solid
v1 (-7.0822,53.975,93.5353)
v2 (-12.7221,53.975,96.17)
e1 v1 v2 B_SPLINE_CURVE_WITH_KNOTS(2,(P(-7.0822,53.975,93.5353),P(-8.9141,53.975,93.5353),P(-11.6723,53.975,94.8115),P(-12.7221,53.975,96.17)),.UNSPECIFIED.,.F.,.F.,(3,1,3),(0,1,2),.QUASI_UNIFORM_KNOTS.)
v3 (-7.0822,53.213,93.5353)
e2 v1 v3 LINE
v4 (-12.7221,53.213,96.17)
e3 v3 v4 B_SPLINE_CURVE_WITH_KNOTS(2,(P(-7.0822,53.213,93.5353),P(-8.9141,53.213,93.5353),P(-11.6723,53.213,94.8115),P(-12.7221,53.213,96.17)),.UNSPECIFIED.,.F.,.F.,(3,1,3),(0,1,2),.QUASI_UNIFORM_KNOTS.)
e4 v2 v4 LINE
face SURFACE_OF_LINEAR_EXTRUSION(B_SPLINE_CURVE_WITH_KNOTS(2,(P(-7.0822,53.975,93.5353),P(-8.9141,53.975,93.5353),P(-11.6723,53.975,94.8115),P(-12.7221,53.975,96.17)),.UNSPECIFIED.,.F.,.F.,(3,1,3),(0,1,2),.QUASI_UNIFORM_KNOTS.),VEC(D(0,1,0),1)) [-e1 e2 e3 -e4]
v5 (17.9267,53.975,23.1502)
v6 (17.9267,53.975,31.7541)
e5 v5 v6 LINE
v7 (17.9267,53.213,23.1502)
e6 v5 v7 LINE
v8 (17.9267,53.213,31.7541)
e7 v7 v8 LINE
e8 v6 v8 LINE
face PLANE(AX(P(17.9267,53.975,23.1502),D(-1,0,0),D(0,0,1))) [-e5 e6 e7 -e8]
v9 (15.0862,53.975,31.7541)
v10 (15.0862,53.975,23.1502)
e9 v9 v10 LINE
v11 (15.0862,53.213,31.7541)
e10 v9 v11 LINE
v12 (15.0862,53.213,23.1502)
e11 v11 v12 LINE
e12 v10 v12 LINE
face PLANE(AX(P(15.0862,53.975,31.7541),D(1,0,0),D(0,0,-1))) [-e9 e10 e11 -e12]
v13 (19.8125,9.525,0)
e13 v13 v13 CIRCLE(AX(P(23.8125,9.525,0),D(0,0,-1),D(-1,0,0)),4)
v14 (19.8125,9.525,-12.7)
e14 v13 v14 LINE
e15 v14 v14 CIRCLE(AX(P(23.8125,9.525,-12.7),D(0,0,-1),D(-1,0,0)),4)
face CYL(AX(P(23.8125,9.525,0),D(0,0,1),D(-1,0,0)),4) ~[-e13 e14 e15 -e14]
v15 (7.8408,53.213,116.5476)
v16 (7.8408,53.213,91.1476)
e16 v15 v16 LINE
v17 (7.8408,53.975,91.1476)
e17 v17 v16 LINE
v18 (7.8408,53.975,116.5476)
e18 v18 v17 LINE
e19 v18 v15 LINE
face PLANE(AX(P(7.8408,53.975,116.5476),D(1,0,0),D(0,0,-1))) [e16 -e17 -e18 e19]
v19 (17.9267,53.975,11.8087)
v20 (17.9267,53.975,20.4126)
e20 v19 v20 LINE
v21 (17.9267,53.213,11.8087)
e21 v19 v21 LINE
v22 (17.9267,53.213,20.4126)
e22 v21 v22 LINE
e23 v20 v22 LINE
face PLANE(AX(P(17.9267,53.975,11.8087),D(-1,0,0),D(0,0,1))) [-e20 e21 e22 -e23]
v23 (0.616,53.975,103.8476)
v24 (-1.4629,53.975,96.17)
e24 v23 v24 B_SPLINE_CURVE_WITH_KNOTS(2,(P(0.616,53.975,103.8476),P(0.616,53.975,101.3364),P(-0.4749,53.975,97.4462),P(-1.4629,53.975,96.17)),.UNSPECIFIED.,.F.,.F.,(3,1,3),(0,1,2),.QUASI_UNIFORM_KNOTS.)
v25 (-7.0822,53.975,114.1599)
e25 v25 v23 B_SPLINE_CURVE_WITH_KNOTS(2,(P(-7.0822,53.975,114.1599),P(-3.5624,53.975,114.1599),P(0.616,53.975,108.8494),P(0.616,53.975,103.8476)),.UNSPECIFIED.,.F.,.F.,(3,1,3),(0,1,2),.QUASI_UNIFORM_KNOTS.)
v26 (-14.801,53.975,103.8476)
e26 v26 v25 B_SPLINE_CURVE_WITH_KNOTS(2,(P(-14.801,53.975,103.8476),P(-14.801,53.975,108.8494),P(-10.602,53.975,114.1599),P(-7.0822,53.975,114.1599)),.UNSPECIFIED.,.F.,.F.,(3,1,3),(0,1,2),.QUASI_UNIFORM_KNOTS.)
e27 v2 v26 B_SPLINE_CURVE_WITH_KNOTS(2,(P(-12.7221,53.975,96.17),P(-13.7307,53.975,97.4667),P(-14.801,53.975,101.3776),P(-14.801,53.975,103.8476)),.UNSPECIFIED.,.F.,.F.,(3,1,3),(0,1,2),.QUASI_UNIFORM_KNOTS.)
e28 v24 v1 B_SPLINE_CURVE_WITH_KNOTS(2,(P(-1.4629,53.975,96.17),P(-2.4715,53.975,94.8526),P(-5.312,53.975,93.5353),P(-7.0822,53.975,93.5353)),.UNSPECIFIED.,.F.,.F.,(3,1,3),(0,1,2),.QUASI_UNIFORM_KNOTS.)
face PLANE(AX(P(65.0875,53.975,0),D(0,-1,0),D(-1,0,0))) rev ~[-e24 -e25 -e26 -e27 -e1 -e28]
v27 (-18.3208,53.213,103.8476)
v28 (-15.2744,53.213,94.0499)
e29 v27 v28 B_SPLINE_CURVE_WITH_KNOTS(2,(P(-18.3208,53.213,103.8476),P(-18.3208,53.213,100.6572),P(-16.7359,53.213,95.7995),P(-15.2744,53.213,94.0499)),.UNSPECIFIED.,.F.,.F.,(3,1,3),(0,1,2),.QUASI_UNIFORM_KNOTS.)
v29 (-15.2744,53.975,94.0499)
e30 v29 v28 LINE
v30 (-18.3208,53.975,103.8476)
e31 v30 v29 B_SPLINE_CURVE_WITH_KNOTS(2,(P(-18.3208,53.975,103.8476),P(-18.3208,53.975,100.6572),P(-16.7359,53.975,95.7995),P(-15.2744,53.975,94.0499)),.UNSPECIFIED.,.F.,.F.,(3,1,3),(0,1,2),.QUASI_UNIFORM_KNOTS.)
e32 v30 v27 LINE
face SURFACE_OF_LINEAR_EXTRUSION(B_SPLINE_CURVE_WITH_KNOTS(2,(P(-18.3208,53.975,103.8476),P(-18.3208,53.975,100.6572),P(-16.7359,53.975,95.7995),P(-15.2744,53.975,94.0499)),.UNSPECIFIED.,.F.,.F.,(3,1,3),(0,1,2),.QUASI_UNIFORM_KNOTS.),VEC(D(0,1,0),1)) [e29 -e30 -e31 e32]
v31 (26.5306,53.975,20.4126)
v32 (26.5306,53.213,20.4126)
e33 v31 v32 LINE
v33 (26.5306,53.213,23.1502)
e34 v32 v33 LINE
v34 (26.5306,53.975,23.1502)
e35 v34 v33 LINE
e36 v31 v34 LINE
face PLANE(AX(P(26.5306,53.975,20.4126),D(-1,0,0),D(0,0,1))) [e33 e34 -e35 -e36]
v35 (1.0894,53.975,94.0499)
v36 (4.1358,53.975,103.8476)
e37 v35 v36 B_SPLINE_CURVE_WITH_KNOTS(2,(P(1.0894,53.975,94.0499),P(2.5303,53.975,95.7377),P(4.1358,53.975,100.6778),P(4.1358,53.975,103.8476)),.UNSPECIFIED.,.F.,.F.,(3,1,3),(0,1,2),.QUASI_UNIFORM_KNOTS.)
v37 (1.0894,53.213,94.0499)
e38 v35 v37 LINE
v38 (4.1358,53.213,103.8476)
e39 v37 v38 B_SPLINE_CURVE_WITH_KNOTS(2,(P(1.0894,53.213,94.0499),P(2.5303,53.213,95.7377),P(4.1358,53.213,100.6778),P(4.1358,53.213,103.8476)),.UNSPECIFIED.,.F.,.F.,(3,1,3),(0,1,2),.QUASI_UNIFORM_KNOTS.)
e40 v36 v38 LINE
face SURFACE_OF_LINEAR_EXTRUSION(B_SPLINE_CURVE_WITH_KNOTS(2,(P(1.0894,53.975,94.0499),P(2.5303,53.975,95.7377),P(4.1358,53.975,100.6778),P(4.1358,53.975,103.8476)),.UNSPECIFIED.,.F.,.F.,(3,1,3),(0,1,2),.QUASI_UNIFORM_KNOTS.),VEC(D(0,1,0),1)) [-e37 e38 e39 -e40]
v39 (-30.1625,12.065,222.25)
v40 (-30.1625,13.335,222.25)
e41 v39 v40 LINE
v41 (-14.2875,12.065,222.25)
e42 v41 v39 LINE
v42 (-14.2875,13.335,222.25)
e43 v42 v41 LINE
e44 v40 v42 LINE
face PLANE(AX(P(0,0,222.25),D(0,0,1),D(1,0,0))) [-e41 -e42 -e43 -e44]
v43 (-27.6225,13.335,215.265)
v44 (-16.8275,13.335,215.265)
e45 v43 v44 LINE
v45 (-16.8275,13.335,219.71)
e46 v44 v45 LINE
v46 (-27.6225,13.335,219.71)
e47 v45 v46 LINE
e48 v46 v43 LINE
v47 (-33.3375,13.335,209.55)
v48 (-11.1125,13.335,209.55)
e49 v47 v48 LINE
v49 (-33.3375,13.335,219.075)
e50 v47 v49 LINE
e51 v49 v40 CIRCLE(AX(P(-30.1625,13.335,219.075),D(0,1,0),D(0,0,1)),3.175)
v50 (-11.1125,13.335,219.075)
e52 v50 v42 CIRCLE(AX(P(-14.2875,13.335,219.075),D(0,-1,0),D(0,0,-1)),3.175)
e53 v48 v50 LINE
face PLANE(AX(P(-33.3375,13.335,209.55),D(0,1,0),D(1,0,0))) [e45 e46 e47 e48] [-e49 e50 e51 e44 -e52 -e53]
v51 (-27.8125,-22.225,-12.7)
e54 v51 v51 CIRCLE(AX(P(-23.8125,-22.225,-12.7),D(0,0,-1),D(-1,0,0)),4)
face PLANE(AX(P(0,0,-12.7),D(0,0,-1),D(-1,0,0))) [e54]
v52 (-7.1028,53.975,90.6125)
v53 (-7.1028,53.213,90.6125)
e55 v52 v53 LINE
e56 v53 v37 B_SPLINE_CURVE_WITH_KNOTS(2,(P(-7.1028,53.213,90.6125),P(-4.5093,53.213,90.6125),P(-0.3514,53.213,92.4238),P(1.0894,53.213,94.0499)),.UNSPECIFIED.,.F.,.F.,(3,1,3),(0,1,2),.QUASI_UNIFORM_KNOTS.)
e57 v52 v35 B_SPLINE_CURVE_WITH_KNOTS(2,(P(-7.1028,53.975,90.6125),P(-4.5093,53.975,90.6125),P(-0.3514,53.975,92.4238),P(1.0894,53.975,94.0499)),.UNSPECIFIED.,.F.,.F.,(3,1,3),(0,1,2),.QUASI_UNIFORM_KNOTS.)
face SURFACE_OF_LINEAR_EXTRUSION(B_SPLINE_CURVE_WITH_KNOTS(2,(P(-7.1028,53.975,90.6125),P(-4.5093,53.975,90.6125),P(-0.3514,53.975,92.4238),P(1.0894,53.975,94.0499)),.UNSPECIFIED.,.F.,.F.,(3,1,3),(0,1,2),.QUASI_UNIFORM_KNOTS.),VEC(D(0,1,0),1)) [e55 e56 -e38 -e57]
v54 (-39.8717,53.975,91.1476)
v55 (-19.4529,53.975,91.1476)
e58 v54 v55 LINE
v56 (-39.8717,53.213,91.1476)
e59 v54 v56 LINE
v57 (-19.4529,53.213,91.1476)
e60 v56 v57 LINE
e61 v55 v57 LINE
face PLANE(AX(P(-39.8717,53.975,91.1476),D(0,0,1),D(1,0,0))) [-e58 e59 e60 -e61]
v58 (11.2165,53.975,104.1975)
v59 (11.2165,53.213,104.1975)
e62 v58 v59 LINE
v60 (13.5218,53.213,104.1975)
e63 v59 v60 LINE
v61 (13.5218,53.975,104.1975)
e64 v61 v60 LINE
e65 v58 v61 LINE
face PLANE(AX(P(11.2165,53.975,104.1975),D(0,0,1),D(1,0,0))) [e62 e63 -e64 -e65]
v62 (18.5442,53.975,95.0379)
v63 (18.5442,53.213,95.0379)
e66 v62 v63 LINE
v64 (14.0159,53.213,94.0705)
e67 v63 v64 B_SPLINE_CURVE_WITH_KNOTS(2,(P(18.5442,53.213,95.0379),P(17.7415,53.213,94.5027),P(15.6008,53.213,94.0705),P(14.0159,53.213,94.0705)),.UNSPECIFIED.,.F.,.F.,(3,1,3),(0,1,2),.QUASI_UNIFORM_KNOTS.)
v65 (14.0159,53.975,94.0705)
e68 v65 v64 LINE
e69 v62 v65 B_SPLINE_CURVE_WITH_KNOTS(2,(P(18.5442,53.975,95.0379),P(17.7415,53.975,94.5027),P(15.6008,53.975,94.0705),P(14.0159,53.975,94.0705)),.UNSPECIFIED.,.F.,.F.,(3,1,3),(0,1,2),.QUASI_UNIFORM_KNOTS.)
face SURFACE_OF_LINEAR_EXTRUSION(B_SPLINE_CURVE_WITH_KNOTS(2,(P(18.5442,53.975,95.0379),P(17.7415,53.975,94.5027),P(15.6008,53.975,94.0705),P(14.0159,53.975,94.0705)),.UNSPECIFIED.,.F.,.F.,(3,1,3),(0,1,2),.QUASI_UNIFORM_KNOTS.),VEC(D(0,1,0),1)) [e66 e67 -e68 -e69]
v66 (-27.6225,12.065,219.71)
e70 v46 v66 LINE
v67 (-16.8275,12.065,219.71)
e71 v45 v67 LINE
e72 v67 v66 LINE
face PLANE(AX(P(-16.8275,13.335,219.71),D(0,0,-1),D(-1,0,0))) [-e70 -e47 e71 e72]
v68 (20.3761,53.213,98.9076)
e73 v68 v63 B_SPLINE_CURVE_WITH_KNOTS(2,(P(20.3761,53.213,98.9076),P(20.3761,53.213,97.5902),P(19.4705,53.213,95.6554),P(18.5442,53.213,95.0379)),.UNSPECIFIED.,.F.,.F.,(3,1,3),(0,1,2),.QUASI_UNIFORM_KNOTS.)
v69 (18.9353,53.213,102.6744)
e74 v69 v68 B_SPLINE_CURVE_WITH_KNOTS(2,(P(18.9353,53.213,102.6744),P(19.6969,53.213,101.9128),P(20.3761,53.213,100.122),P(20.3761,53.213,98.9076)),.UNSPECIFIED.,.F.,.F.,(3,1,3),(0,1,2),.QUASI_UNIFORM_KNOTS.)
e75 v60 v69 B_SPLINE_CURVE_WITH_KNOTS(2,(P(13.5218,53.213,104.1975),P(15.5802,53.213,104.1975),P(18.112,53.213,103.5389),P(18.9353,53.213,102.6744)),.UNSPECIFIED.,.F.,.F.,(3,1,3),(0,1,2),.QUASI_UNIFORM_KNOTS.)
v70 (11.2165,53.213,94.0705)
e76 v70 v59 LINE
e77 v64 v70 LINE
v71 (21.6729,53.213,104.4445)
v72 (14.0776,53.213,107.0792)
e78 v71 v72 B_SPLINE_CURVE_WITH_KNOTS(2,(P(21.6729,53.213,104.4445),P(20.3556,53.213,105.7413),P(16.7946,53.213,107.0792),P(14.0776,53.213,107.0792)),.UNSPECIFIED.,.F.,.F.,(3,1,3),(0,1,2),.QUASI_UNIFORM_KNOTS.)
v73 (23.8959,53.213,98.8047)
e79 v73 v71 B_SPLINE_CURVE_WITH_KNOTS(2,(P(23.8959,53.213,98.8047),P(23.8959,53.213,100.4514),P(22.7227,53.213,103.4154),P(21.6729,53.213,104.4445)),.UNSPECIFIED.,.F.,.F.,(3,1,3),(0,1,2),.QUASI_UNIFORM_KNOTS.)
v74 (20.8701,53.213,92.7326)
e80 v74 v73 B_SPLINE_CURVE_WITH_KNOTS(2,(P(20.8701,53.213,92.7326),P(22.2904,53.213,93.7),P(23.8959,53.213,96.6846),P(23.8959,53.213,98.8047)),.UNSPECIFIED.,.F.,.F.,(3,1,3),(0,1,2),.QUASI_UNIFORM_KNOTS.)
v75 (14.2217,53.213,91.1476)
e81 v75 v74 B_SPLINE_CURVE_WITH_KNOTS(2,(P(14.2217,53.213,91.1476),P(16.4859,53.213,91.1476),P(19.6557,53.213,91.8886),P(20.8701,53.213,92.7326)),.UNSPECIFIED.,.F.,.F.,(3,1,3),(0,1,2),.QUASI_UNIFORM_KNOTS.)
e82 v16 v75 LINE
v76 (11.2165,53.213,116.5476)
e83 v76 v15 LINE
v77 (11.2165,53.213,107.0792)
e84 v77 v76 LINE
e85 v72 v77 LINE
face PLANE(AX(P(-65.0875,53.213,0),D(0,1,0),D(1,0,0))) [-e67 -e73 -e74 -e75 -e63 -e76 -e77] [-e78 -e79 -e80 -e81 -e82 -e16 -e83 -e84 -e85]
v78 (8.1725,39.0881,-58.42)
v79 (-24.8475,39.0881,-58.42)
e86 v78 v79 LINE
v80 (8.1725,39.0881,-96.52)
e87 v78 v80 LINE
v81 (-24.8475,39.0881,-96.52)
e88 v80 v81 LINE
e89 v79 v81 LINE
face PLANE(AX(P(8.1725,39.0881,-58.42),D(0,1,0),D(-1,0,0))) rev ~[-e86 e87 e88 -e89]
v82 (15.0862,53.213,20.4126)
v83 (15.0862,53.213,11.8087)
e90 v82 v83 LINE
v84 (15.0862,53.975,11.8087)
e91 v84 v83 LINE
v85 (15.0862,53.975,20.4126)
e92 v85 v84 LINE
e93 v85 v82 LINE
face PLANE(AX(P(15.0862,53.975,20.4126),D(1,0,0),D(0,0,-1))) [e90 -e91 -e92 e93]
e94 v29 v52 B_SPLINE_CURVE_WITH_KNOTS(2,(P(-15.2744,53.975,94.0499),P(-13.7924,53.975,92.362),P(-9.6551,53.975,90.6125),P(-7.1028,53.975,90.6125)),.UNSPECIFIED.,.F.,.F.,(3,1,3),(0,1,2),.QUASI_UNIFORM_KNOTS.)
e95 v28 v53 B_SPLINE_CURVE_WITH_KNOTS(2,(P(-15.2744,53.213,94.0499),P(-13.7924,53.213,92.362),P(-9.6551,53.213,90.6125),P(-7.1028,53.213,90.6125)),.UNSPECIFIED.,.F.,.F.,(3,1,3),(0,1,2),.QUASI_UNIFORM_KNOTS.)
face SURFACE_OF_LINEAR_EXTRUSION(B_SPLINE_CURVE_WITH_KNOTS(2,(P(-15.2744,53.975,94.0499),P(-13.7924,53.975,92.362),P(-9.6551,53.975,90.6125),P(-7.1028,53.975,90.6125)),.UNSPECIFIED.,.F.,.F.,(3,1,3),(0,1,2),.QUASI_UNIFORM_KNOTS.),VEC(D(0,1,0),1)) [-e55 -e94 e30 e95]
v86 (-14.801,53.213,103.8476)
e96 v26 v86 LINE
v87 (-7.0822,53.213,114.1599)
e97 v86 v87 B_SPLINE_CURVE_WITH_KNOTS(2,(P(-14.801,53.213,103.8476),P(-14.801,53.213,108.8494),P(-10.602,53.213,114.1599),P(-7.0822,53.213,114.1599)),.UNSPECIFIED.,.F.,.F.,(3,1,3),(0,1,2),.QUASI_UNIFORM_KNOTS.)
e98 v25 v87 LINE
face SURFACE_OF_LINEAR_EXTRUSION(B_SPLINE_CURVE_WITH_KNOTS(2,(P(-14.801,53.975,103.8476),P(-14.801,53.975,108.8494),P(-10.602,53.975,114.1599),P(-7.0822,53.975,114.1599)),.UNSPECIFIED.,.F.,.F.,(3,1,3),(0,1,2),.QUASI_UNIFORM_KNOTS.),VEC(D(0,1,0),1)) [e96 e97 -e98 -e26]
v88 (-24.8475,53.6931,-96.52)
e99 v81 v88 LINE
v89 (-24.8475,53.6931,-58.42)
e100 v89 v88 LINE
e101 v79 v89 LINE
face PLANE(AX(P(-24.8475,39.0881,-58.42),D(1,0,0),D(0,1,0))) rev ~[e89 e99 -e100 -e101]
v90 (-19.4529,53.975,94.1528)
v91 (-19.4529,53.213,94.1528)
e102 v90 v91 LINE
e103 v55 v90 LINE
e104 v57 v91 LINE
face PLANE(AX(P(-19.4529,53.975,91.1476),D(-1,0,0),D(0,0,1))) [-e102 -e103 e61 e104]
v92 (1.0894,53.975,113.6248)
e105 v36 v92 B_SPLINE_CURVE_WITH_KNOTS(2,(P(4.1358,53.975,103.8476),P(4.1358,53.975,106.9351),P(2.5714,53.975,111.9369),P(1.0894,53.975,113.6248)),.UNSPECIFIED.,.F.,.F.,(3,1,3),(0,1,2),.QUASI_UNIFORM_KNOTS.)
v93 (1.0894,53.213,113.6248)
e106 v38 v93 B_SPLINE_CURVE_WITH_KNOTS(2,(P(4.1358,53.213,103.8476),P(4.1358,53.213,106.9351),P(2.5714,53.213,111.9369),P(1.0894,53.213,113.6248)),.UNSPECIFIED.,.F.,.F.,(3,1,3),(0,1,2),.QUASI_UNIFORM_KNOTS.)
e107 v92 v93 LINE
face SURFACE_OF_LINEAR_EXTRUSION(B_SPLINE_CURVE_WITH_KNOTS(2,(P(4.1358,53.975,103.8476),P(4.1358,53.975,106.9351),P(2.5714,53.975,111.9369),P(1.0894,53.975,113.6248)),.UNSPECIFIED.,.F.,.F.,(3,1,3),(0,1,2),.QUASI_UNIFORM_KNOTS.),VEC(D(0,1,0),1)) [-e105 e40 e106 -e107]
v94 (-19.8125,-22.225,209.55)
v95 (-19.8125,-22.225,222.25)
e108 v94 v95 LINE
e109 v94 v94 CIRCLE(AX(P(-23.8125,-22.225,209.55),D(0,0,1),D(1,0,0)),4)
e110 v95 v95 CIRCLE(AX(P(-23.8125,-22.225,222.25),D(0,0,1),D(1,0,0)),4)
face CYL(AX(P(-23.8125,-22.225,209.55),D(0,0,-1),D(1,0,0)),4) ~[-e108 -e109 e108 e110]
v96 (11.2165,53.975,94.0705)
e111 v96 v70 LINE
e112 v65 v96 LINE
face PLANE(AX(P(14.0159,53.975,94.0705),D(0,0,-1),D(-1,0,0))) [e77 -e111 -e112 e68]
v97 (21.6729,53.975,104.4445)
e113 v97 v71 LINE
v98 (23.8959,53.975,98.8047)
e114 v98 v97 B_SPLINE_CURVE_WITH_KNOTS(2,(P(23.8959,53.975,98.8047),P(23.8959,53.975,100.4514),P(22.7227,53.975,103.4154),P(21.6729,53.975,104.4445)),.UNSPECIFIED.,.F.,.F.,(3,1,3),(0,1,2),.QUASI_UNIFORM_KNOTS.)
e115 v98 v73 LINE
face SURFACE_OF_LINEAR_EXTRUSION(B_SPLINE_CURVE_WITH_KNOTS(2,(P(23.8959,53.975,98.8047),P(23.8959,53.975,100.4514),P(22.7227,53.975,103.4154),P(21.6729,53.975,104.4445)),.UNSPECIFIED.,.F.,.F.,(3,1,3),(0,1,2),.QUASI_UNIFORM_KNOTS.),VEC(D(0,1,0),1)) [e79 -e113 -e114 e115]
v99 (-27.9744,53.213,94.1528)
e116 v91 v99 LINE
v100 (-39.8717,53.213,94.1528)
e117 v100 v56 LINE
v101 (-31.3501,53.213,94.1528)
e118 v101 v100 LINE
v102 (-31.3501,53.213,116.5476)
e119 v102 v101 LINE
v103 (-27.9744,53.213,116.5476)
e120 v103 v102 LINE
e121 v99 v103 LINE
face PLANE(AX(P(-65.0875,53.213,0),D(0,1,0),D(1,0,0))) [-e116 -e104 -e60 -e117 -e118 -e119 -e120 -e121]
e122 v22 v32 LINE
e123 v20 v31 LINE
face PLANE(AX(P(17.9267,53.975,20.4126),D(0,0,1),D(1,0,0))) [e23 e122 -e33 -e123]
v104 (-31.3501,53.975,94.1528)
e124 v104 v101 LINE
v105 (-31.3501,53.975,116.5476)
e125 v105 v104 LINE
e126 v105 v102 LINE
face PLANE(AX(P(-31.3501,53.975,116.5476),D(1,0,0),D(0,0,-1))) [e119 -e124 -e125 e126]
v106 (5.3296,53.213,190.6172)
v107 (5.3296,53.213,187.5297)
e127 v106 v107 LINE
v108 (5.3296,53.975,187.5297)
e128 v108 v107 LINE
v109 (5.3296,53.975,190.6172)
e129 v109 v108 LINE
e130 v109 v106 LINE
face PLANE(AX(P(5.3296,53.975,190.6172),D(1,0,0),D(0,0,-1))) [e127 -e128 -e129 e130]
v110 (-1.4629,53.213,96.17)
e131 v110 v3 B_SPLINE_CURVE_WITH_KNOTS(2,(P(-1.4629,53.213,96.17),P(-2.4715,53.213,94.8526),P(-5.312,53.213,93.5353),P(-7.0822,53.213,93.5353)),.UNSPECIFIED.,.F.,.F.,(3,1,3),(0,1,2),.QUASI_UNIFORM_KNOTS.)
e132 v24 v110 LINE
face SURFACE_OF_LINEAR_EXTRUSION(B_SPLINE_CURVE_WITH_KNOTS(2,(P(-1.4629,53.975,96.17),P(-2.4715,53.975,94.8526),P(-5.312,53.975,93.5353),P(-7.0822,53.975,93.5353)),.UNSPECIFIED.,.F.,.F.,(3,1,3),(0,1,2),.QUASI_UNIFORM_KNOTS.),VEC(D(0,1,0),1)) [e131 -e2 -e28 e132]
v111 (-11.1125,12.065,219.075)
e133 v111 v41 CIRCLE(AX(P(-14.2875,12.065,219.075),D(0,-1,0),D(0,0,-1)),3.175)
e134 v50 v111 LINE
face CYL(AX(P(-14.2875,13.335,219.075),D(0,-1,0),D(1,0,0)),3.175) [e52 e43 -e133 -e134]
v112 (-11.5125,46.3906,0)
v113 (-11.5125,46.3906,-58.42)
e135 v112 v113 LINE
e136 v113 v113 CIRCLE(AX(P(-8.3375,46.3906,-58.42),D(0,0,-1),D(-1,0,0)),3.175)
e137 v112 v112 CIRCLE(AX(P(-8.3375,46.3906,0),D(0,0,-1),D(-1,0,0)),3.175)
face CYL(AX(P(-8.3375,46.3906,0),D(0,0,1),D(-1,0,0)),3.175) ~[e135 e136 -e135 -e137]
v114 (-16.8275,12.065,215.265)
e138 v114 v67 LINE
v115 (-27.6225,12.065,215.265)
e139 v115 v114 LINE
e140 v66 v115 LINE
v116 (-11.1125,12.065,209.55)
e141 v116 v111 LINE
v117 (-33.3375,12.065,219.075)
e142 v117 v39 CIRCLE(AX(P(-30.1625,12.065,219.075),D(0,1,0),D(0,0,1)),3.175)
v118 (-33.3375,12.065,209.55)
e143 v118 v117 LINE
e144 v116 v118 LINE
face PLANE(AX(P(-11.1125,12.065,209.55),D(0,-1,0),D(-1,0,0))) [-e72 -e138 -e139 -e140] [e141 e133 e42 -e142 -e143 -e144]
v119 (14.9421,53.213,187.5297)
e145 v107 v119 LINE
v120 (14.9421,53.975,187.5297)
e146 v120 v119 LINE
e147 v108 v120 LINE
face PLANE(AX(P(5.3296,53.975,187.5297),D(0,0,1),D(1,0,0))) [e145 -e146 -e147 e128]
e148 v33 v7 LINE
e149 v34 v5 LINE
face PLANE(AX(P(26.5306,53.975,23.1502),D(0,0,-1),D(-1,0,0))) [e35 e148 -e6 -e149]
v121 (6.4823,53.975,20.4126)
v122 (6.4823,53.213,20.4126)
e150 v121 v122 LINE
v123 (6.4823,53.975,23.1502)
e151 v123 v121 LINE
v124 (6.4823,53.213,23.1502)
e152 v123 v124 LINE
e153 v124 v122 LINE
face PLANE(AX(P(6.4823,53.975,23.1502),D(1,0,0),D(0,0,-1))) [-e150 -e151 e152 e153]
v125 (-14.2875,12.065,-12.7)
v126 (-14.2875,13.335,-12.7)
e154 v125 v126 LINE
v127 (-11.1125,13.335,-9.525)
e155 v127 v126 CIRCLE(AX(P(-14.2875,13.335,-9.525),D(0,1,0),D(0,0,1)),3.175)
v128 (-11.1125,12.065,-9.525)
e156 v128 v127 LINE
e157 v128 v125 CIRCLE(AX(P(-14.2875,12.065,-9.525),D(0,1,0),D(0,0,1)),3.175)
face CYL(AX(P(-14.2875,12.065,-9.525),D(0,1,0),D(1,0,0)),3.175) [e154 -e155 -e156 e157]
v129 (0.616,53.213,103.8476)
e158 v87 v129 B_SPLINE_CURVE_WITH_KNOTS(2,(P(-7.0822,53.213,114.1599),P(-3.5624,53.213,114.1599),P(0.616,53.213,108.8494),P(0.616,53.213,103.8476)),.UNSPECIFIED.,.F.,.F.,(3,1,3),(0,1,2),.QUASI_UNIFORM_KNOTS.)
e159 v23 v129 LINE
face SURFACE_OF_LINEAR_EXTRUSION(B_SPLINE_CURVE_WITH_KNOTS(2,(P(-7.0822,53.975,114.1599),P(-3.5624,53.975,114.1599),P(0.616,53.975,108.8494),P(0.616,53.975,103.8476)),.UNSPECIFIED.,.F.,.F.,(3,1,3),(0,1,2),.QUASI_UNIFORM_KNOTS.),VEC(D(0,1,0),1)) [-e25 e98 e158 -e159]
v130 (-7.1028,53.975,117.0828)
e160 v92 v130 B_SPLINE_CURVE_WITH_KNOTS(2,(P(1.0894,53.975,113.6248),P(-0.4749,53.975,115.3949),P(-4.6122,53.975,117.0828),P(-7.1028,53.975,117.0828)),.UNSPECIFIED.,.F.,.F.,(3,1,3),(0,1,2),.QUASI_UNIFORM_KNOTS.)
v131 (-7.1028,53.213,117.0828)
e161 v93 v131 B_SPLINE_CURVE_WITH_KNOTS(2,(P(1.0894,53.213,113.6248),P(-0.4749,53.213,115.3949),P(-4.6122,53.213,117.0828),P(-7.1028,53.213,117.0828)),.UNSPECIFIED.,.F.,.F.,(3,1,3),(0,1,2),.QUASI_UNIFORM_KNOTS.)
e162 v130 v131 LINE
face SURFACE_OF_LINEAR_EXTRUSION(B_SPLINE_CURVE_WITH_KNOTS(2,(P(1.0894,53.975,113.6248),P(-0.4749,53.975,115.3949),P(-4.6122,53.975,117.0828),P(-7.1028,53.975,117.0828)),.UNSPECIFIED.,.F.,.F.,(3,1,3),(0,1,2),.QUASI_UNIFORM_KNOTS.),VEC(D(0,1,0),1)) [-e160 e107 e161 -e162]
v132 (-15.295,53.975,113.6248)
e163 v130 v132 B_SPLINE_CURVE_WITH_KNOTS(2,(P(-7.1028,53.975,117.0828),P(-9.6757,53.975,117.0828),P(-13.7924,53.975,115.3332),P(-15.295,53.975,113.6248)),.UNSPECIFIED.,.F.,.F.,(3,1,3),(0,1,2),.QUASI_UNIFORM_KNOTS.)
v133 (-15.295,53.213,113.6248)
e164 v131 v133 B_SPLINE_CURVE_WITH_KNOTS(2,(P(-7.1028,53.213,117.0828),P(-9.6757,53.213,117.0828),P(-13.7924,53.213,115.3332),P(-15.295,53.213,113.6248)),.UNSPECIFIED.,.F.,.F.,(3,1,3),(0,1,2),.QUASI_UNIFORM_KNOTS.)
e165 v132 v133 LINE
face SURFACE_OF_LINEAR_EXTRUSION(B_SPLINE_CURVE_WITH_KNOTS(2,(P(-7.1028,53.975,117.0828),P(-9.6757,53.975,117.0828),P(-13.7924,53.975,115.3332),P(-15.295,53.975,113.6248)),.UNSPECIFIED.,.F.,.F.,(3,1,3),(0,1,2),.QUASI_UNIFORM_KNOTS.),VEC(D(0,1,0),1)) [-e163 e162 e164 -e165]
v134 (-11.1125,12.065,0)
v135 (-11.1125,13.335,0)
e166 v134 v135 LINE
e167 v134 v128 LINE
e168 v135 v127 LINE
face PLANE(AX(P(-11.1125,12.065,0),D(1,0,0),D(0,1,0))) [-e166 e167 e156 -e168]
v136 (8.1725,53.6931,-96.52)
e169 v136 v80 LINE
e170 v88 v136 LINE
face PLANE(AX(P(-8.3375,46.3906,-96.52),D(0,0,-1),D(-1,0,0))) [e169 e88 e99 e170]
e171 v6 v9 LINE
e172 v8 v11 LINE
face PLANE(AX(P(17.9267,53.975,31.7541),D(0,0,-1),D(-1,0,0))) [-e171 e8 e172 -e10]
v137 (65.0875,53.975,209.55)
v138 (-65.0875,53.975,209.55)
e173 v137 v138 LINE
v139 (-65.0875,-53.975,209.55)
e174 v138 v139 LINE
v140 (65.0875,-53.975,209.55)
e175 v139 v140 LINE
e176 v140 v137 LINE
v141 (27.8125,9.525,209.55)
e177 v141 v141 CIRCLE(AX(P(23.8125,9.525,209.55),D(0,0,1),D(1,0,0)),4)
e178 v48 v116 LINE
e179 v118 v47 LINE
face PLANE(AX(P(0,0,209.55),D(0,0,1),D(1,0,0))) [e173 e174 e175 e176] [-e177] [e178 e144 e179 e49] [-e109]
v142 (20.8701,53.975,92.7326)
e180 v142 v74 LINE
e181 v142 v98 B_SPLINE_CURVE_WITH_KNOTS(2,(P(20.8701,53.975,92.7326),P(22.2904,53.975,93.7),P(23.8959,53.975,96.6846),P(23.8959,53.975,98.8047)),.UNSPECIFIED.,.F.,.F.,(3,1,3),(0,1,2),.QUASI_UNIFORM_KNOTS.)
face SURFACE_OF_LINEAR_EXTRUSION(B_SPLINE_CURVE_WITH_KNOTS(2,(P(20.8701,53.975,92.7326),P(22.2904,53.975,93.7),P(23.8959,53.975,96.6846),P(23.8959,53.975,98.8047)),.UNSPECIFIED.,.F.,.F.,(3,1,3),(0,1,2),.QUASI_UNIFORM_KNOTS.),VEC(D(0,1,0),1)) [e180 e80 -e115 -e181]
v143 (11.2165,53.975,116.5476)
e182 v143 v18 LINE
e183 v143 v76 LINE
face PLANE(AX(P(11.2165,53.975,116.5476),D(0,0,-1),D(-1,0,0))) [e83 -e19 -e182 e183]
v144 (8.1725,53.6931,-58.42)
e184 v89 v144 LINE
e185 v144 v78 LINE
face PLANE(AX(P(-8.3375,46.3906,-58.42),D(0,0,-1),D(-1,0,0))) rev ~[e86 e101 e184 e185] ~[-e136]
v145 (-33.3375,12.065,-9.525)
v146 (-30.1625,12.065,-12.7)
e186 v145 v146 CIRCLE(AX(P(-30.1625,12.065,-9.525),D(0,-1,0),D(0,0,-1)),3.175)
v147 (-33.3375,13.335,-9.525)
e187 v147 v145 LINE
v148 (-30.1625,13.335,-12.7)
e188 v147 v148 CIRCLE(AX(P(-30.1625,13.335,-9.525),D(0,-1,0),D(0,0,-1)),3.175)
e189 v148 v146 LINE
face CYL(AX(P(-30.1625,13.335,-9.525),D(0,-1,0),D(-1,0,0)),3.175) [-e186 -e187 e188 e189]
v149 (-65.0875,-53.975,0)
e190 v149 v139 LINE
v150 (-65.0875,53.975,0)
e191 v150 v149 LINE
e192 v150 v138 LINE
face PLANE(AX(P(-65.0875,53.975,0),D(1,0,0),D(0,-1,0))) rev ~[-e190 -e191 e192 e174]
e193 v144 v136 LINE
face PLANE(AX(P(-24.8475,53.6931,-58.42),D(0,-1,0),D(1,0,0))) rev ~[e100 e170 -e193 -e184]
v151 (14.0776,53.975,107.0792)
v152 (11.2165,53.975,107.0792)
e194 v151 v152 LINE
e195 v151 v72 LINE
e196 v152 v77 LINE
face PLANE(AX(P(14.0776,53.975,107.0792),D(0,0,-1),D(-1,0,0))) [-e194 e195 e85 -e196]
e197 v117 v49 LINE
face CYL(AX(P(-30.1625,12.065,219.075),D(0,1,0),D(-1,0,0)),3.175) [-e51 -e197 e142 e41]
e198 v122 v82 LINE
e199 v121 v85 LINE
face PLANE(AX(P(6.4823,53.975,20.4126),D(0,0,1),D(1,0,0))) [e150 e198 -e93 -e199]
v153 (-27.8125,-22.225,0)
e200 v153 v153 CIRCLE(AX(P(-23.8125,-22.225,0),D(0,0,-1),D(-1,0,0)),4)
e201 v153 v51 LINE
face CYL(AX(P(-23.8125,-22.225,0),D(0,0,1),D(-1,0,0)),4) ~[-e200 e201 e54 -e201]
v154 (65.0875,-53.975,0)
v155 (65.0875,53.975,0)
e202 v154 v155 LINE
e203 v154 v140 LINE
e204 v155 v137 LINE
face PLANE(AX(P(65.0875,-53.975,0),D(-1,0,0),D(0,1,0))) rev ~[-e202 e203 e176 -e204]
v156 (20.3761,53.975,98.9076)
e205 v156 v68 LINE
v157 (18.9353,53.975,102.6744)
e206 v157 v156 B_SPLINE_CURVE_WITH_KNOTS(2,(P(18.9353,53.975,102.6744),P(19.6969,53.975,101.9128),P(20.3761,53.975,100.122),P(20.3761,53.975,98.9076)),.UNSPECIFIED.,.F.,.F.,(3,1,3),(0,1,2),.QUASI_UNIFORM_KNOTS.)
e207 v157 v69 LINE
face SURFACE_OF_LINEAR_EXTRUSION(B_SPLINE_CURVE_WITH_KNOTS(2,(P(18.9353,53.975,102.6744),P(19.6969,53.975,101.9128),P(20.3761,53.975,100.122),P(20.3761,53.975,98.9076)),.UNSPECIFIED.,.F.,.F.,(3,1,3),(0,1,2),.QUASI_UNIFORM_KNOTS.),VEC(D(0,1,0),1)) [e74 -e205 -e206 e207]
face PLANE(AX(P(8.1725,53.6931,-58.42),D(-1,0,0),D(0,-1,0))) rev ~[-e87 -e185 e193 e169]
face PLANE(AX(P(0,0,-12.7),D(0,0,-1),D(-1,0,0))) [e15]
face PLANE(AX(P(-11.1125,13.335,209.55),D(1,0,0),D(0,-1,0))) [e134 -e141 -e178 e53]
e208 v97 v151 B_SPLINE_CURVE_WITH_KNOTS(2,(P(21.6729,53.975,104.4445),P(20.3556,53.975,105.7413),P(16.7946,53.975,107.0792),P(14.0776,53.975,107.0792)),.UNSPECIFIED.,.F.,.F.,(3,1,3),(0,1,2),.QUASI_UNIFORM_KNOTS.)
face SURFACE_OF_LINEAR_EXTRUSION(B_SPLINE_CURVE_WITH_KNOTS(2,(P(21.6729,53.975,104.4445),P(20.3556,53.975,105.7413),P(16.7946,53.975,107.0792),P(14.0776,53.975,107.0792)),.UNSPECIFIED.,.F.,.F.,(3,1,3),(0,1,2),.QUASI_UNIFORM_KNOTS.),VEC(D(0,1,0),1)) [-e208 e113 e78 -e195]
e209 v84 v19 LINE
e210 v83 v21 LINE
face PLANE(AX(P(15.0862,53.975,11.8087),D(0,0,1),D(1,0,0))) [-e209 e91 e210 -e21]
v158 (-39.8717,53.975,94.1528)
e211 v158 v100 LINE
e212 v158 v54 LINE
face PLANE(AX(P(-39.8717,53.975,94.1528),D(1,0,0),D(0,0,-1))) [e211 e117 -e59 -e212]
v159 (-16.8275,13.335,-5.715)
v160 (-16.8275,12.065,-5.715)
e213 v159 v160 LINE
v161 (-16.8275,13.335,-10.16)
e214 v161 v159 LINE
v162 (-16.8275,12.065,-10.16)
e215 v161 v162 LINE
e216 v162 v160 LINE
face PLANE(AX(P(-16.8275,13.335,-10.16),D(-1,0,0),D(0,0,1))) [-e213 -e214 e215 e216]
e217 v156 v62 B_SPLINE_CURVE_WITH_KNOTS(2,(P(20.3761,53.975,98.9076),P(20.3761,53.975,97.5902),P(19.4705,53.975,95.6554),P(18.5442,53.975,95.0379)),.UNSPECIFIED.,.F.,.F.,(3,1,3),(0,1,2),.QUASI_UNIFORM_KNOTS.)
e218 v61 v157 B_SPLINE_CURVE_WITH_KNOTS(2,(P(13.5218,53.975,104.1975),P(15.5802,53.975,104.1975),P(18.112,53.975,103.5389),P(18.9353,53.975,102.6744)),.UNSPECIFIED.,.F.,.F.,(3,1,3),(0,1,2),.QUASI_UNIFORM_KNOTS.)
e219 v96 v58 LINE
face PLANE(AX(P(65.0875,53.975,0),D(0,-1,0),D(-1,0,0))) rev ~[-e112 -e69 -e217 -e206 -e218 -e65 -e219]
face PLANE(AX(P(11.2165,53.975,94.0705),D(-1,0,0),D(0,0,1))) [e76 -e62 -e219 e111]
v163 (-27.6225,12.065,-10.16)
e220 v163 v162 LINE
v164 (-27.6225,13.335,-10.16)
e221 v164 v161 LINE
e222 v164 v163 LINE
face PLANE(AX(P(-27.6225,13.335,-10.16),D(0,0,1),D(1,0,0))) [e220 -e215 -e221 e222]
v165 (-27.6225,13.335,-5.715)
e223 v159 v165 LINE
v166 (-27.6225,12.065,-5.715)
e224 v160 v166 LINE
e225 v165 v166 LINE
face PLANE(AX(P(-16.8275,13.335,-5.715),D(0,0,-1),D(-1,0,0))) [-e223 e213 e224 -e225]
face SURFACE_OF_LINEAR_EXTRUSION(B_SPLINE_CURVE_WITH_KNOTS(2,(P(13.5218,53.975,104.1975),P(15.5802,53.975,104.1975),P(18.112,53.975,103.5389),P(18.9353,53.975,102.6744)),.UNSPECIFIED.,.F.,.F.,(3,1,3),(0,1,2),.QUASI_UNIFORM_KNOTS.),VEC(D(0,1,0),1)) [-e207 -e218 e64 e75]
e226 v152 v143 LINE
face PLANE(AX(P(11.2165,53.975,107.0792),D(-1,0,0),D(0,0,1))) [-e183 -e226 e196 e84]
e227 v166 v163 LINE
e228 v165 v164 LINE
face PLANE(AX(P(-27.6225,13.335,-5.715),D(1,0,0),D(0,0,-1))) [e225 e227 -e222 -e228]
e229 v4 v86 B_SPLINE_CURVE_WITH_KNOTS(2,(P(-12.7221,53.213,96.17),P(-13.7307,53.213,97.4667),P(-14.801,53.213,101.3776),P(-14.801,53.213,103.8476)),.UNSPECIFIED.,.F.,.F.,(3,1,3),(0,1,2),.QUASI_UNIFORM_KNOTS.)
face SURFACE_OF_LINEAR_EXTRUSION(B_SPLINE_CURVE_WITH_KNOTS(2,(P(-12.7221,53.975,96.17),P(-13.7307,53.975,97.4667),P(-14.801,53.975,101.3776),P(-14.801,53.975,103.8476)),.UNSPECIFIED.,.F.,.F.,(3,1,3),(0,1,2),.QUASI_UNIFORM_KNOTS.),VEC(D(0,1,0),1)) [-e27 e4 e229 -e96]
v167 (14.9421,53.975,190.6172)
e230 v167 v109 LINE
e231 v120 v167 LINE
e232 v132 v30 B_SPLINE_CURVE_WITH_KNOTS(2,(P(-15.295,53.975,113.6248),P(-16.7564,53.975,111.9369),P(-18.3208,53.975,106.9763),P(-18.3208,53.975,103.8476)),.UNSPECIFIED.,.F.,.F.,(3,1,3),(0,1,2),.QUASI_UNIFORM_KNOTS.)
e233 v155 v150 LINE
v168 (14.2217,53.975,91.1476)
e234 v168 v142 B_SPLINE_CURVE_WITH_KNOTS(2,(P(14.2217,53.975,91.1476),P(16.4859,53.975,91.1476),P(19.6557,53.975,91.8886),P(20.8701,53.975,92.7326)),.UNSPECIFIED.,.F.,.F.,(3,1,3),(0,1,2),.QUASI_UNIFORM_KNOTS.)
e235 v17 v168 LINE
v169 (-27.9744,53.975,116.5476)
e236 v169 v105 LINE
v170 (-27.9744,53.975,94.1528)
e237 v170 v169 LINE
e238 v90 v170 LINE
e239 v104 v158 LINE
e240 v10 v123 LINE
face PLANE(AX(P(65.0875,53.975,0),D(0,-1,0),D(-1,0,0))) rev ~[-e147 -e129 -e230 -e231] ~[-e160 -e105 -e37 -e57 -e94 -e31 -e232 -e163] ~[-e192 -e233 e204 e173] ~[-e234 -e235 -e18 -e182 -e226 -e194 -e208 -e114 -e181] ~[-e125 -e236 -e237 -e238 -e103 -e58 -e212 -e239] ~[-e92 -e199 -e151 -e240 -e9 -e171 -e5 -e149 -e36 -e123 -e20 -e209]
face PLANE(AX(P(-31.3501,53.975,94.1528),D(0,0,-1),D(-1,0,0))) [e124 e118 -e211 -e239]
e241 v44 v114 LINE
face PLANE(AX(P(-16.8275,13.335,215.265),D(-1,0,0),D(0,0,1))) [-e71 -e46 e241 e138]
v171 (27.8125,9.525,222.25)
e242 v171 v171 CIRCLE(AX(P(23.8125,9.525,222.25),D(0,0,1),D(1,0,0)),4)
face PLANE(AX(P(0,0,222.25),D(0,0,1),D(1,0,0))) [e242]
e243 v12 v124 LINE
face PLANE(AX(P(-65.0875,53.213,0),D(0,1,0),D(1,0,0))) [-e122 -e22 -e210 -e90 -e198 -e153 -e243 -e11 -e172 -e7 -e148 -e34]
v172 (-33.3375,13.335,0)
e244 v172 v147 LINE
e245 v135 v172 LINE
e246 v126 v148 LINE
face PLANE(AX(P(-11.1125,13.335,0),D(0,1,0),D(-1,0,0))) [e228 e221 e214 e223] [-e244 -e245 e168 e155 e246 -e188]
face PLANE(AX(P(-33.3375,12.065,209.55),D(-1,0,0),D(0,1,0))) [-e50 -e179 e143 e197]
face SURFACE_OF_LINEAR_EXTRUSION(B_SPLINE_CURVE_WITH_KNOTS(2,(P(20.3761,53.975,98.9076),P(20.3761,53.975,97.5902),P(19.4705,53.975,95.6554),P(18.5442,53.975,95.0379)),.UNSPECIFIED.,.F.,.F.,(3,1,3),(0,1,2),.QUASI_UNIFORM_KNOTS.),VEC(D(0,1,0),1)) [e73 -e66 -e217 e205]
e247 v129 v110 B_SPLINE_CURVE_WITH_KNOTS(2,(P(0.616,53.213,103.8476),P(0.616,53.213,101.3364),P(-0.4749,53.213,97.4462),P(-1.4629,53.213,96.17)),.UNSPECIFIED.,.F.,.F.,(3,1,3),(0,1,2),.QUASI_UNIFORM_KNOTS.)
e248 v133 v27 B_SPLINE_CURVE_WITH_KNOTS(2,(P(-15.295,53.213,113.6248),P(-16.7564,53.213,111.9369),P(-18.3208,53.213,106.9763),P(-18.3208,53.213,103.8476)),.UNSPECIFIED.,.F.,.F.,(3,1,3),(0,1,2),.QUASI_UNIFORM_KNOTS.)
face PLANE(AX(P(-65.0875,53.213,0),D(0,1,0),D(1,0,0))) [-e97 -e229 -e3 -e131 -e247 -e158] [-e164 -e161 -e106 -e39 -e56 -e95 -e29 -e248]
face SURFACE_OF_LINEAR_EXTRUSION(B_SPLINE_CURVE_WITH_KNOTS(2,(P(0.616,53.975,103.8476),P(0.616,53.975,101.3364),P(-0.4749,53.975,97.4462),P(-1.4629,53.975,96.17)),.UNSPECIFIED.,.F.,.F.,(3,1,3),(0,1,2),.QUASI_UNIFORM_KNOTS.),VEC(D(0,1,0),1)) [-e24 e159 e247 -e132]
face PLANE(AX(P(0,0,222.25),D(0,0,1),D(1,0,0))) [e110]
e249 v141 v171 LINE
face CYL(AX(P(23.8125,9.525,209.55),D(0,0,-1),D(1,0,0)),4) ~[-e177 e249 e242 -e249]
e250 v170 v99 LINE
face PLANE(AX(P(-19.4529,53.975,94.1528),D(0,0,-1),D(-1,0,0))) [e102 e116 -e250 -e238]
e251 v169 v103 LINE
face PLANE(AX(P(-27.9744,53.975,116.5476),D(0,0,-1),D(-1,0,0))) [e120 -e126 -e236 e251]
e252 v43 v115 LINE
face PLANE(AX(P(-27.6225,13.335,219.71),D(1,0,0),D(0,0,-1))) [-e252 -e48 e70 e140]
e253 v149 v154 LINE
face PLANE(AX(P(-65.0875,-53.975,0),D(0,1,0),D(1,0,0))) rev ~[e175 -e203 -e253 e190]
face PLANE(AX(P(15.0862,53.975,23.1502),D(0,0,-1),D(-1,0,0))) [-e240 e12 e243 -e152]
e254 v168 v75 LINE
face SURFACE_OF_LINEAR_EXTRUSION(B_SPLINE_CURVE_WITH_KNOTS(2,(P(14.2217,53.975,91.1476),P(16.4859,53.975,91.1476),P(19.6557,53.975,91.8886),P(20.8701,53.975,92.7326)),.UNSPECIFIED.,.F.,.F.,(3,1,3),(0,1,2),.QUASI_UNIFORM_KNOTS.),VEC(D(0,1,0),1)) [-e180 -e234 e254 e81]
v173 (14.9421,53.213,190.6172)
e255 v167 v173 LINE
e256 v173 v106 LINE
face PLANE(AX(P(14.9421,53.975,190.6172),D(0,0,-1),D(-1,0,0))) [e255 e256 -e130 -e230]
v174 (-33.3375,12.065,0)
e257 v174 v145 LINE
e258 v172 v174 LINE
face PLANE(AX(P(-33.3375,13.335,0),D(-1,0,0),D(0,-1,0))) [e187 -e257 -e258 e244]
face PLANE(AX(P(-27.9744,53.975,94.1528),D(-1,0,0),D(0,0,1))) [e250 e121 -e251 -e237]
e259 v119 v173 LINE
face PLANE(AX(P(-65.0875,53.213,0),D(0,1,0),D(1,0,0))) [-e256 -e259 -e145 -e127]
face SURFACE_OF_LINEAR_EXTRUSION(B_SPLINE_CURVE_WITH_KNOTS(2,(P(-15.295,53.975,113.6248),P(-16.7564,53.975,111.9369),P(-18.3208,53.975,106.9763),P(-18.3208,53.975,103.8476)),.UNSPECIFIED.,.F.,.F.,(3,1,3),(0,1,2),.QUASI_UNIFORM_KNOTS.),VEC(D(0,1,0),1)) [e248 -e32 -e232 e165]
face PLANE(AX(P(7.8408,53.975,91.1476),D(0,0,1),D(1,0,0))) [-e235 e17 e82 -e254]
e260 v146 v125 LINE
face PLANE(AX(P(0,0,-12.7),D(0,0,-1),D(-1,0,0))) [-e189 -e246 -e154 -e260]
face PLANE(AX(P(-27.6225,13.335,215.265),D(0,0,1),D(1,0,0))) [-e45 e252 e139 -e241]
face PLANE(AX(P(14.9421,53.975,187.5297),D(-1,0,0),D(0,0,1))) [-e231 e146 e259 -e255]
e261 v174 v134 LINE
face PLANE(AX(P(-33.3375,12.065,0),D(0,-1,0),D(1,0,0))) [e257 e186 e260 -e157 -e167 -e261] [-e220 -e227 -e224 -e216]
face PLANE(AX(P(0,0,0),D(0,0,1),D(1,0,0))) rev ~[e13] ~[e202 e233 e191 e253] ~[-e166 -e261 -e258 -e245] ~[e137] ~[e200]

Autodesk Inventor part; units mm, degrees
ref_plane "YZ Plane" through (0, 0, 0) normal (1, 0, 0) x (0, 1, 0)
ref_plane "XZ Plane" through (0, 0, 0) normal (0, 1, 0) x (-1, 0, 0)
ref_plane "XY Plane" through (0, 0, 0) normal (0, 0, 1) x (1, 0, 0)
sketch "Sketch1" plane through (0, 0, 0) normal (0, 0, 1) x (1, 0, 0)
  line L0 (-65.0875, -53.975) -> (65.0875, -53.975)
  line L1 (65.0875, -53.975) -> (65.0875, 53.975)
  line L2 (65.0875, 53.975) -> (-65.0875, 53.975)
  line L3 (-65.0875, 53.975) -> (-65.0875, -53.975)
  line L4 (-65.0875, -53.975) -> (65.0875, 53.975) construction
  line L5 (65.0875, -53.975) -> (-65.0875, 53.975) construction
  point P0 (0, 0)
  dimension "d0" = 130.175
  dimension "d1" = 107.95
extrude "Extrusion1" add sketch "Sketch1" along normal blind 209.55
sketch "Sketch2" plane through (0, 0, 209.55) normal (0, 0, 1) x (1, 0, 0)
  line L0 (-65.0875, -53.975) -> (65.0875, -53.975) construction
  line L1 (-65.0875, 53.975) -> (-65.0875, -53.975) construction
  circle A0 centre (-23.8125, -22.225) radius 4
  circle A1 centre (23.8125, 9.525) radius 4
  line L2 (-11.1125, 12.065) -> (-33.3375, 12.065)
  line L3 (-33.3375, 12.065) -> (-33.3375, 13.335)
  line L4 (-33.3375, 13.335) -> (-11.1125, 13.335)
  line L5 (-11.1125, 13.335) -> (-11.1125, 12.065)
  line L6 (-33.3375, 12.7) -> (-65.0875, 12.7) construction
  point P0 (0, 0)
  dimension "d4" = 31.75
  dimension "d5" = 41.275
  dimension "d6" = 8
  dimension "d7" = 63.5
  dimension "d8" = 88.9
  dimension "d13" = 31.75
  dimension "d14" = 53.975
  dimension "d15" = 66.675
  dimension "d16" = 1.27
extrude "Extrusion2" add sketch "Sketch2" along normal blind 12.7
sketch "Sketch3" plane through (0, 0, 0) normal (0, 0, -1) x (-1, 0, 0)
  circle A0 centre (-23.8125, 9.525) radius 4 projected
  circle A1 centre (23.8125, -22.225) radius 4 projected
  line L0 (33.3375, 12.065) -> (11.1125, 12.065) projected
  line L1 (11.1125, 12.065) -> (11.1125, 13.335) projected
  line L2 (11.1125, 13.335) -> (33.3375, 13.335) projected
  line L3 (33.3375, 13.335) -> (33.3375, 12.065) projected
  point P0 (0, 0)
extrude "Extrusion3" add sketch "Sketch3" along normal blind 12.7
sketch "Sketch4" plane through (-33.3375, 13.335, 0) normal (0, 1, 0) x (1, 0, 0)
  line L0 (0, 12.7) -> (22.225, 12.7) projected
  line L1 (22.225, 0) -> (22.225, 12.7) projected
  line L2 (0, 0) -> (0, 12.7) projected
  line L3 (22.225, -209.55) -> (22.225, -222.25) projected
  line L4 (22.225, -222.25) -> (0, -222.25) projected
  line L5 (0, -209.55) -> (0, -222.25) projected
  line L6 (16.51, -219.71) -> (5.715, -219.71)
  line L7 (5.715, -219.71) -> (5.715, -215.265)
  line L8 (5.715, -215.265) -> (16.51, -215.265)
  line L9 (16.51, -215.265) -> (16.51, -219.71)
  line L10 (16.51, 5.715) -> (5.715, 5.715)
  line L11 (5.715, 5.715) -> (5.715, 10.16)
  line L12 (5.715, 10.16) -> (16.51, 10.16)
  line L13 (16.51, 10.16) -> (16.51, 5.715)
  line L14 (5.715, 10.16) -> (0, 12.7) construction
  line L15 (16.51, 10.16) -> (22.225, 12.7) construction
  line L16 (22.225, -222.25) -> (16.51, -219.71) construction
  line L17 (5.715, -219.71) -> (0, -222.25) construction
  point P0 (33.3375, 0)
  dimension "d17" = 10.795
  dimension "d18" = 6.985
  dimension "d19" = 2.54
extrude "Extrusion4" cut sketch "Sketch4" against normal up to surface (1.27 mm away)
fillet "Fillet1" radius 3.175 4 edges at (-33.3375, 12.7, -12.7) (-11.1125, 12.7, -12.7) (-33.3375, 12.7, 222.25) (-11.1125, 12.7, 222.25)
thread "Thread1" size "M8x1.25" class "6g" standard "ANSI Metric M Profile" full length
thread "Thread2" size "M8x1.25" class "6g" standard "ANSI Metric M Profile" full length
thread "Thread3" size "M8x1.25" class "6g" standard "ANSI Metric M Profile" full length
thread "Thread4" size "M8x1.25" class "6g" standard "ANSI Metric M Profile" full length
sketch "Sketch5" plane through (-65.0875, 53.975, 0) normal (0, 1, 0) x (1, 0, 0)
  line L0 (25.2364, -11.8087) -> (114.825, -11.8087) construction
  line L1 (114.825, -11.8087) -> (114.825, -199.7093) construction
  line L2 (114.825, -199.7093) -> (25.2364, -199.7093) construction
  line L3 (25.2364, -199.7093) -> (25.2364, -11.8087) construction
  line L4 (91.6181, -23.1502) -> (83.0142, -23.1502)
  line L5 (83.0142, -23.1502) -> (83.0142, -31.7541)
  line L6 (83.0142, -31.7541) -> (80.1737, -31.7541)
  line L7 (80.1737, -31.7541) -> (80.1737, -23.1502)
  line L8 (80.1737, -23.1502) -> (71.5698, -23.1502)
  line L9 (71.5698, -23.1502) -> (71.5698, -20.4126)
  line L10 (71.5698, -20.4126) -> (80.1737, -20.4126)
  line L11 (80.1737, -20.4126) -> (80.1737, -11.8087)
  line L12 (80.1737, -11.8087) -> (83.0142, -11.8087)
  line L13 (83.0142, -11.8087) -> (83.0142, -20.4126)
  line L14 (83.0142, -20.4126) -> (91.6181, -20.4126)
  line L15 (91.6181, -20.4126) -> (91.6181, -23.1502)
  line L16 (33.7374, -116.5476) -> (33.7374, -94.1528)
  line L17 (33.7374, -94.1528) -> (25.2158, -94.1528)
  line L18 (25.2158, -94.1528) -> (25.2158, -91.1476)
  line L19 (25.2158, -91.1476) -> (45.6346, -91.1476)
  line L20 (45.6346, -91.1476) -> (45.6346, -94.1528)
  line L21 (45.6346, -94.1528) -> (37.1131, -94.1528)
  line L22 (37.1131, -94.1528) -> (37.1131, -116.5476)
  line L23 (37.1131, -116.5476) -> (33.7374, -116.5476)
  spline S0 degree 2 poles (66.1769, -94.0499) (67.6178, -95.7377) (69.2233, -100.6778) (69.2233, -103.8476) knots 0 0 0 1 2 2 2
  spline S1 degree 2 poles (69.2233, -103.8476) (69.2233, -106.9351) (67.6589, -111.9369) (66.1769, -113.6248) knots 0 0 0 1 2 2 2
  spline S2 degree 2 poles (66.1769, -113.6248) (64.6126, -115.3949) (60.4753, -117.0828) (57.9847, -117.0828) knots 0 0 0 1 2 2 2
  spline S3 degree 2 poles (57.9847, -117.0828) (55.4118, -117.0828) (51.2951, -115.3332) (49.7925, -113.6248) knots 0 0 0 1 2 2 2
  spline S4 degree 2 poles (49.7925, -113.6248) (48.3311, -111.9369) (46.7667, -106.9763) (46.7667, -103.8476) knots 0 0 0 1 2 2 2
  spline S5 degree 2 poles (46.7667, -103.8476) (46.7667, -100.6572) (48.3516, -95.7995) (49.8131, -94.0499) knots 0 0 0 1 2 2 2
  spline S6 degree 2 poles (49.8131, -94.0499) (51.2951, -92.362) (55.4324, -90.6125) (57.9847, -90.6125) knots 0 0 0 1 2 2 2
  spline S7 degree 2 poles (57.9847, -90.6125) (60.5782, -90.6125) (64.7361, -92.4238) (66.1769, -94.0499) knots 0 0 0 1 2 2 2
  spline S8 degree 2 poles (65.7035, -103.8476) (65.7035, -101.3364) (64.6126, -97.4462) (63.6246, -96.17) knots 0 0 0 1 2 2 2
  spline S9 degree 2 poles (63.6246, -96.17) (62.616, -94.8526) (59.7755, -93.5353) (58.0053, -93.5353) knots 0 0 0 1 2 2 2
  spline S10 degree 2 poles (58.0053, -93.5353) (56.1734, -93.5353) (53.4152, -94.8115) (52.3654, -96.17) knots 0 0 0 1 2 2 2
  spline S11 degree 2 poles (52.3654, -96.17) (51.3568, -97.4667) (50.2865, -101.3776) (50.2865, -103.8476) knots 0 0 0 1 2 2 2
  spline S12 degree 2 poles (50.2865, -103.8476) (50.2865, -108.8494) (54.4855, -114.1599) (58.0053, -114.1599) knots 0 0 0 1 2 2 2
  spline S13 degree 2 poles (58.0053, -114.1599) (61.5251, -114.1599) (65.7035, -108.8494) (65.7035, -103.8476) knots 0 0 0 1 2 2 2
  spline S14 degree 2 poles (88.9834, -98.8047) (88.9834, -100.4514) (87.8102, -103.4154) (86.7604, -104.4445) knots 0 0 0 1 2 2 2
  spline S15 degree 2 poles (86.7604, -104.4445) (85.4431, -105.7413) (81.8821, -107.0792) (79.1651, -107.0792) knots 0 0 0 1 2 2 2
  line L24 (79.1651, -107.0792) -> (76.304, -107.0792)
  line L25 (76.304, -107.0792) -> (76.304, -116.5476)
  line L26 (76.304, -116.5476) -> (72.9283, -116.5476)
  line L27 (72.9283, -116.5476) -> (72.9283, -91.1476)
  line L28 (72.9283, -91.1476) -> (79.3092, -91.1476)
  spline S16 degree 2 poles (79.3092, -91.1476) (81.5734, -91.1476) (84.7432, -91.8886) (85.9576, -92.7326) knots 0 0 0 1 2 2 2
  spline S17 degree 2 poles (85.9576, -92.7326) (87.3779, -93.7) (88.9834, -96.6846) (88.9834, -98.8047) knots 0 0 0 1 2 2 2
  spline S18 degree 2 poles (85.4636, -98.9076) (85.4636, -97.5902) (84.558, -95.6554) (83.6317, -95.0379) knots 0 0 0 1 2 2 2
  spline S19 degree 2 poles (83.6317, -95.0379) (82.829, -94.5027) (80.6883, -94.0705) (79.1034, -94.0705) knots 0 0 0 1 2 2 2
  line L29 (79.1034, -94.0705) -> (76.304, -94.0705)
  line L30 (76.304, -94.0705) -> (76.304, -104.1975)
  line L31 (76.304, -104.1975) -> (78.6093, -104.1975)
  spline S20 degree 2 poles (78.6093, -104.1975) (80.6677, -104.1975) (83.1995, -103.5389) (84.0228, -102.6744) knots 0 0 0 1 2 2 2
  spline S21 degree 2 poles (84.0228, -102.6744) (84.7844, -101.9128) (85.4636, -100.122) (85.4636, -98.9076) knots 0 0 0 1 2 2 2
  line L32 (80.0296, -190.6172) -> (70.4171, -190.6172)
  line L33 (70.4171, -190.6172) -> (70.4171, -187.5297)
  line L34 (70.4171, -187.5297) -> (80.0296, -187.5297)
  line L35 (80.0296, -187.5297) -> (80.0296, -190.6172)
  point P0 (65.0875, 0)
extrude "Extrusion7" cut sketch "Sketch5" against normal blind 0.762
sketch "Sketch6" plane through (0, 0, 0) normal (0, 0, -1) x (-1, 0, 0)
  circle A0 centre (8.3375, 46.3906) radius 3.175
  point P0 (0, 0)
  dimension "d31" = 6.35
extrude "Extrusion5" add sketch "Sketch6" along normal blind 58.42
sketch "Sketch7" plane through (-8.3375, 46.3906, -58.42) normal (0, 0, -1) x (-1, 0, 0)
  circle A0 centre (0, 0) radius 3.175 projected
  line L0 (-16.51, -7.3025) -> (16.51, -7.3025)
  line L1 (16.51, -7.3025) -> (16.51, 7.3025)
  line L2 (16.51, 7.3025) -> (-16.51, 7.3025)
  line L3 (-16.51, 7.3025) -> (-16.51, -7.3025)
  line L4 (-16.51, -7.3025) -> (16.51, 7.3025) construction
  line L5 (16.51, -7.3025) -> (-16.51, 7.3025) construction
  point P0 (-8.3375, -46.3906)
  dimension "d34" = 14.605
  dimension "d35" = 33.02
extrude "Extrusion6" add sketch "Sketch7" along normal blind 38.1 contours A0 | L3 L2 L1 L0
properties part number "12S Module"
